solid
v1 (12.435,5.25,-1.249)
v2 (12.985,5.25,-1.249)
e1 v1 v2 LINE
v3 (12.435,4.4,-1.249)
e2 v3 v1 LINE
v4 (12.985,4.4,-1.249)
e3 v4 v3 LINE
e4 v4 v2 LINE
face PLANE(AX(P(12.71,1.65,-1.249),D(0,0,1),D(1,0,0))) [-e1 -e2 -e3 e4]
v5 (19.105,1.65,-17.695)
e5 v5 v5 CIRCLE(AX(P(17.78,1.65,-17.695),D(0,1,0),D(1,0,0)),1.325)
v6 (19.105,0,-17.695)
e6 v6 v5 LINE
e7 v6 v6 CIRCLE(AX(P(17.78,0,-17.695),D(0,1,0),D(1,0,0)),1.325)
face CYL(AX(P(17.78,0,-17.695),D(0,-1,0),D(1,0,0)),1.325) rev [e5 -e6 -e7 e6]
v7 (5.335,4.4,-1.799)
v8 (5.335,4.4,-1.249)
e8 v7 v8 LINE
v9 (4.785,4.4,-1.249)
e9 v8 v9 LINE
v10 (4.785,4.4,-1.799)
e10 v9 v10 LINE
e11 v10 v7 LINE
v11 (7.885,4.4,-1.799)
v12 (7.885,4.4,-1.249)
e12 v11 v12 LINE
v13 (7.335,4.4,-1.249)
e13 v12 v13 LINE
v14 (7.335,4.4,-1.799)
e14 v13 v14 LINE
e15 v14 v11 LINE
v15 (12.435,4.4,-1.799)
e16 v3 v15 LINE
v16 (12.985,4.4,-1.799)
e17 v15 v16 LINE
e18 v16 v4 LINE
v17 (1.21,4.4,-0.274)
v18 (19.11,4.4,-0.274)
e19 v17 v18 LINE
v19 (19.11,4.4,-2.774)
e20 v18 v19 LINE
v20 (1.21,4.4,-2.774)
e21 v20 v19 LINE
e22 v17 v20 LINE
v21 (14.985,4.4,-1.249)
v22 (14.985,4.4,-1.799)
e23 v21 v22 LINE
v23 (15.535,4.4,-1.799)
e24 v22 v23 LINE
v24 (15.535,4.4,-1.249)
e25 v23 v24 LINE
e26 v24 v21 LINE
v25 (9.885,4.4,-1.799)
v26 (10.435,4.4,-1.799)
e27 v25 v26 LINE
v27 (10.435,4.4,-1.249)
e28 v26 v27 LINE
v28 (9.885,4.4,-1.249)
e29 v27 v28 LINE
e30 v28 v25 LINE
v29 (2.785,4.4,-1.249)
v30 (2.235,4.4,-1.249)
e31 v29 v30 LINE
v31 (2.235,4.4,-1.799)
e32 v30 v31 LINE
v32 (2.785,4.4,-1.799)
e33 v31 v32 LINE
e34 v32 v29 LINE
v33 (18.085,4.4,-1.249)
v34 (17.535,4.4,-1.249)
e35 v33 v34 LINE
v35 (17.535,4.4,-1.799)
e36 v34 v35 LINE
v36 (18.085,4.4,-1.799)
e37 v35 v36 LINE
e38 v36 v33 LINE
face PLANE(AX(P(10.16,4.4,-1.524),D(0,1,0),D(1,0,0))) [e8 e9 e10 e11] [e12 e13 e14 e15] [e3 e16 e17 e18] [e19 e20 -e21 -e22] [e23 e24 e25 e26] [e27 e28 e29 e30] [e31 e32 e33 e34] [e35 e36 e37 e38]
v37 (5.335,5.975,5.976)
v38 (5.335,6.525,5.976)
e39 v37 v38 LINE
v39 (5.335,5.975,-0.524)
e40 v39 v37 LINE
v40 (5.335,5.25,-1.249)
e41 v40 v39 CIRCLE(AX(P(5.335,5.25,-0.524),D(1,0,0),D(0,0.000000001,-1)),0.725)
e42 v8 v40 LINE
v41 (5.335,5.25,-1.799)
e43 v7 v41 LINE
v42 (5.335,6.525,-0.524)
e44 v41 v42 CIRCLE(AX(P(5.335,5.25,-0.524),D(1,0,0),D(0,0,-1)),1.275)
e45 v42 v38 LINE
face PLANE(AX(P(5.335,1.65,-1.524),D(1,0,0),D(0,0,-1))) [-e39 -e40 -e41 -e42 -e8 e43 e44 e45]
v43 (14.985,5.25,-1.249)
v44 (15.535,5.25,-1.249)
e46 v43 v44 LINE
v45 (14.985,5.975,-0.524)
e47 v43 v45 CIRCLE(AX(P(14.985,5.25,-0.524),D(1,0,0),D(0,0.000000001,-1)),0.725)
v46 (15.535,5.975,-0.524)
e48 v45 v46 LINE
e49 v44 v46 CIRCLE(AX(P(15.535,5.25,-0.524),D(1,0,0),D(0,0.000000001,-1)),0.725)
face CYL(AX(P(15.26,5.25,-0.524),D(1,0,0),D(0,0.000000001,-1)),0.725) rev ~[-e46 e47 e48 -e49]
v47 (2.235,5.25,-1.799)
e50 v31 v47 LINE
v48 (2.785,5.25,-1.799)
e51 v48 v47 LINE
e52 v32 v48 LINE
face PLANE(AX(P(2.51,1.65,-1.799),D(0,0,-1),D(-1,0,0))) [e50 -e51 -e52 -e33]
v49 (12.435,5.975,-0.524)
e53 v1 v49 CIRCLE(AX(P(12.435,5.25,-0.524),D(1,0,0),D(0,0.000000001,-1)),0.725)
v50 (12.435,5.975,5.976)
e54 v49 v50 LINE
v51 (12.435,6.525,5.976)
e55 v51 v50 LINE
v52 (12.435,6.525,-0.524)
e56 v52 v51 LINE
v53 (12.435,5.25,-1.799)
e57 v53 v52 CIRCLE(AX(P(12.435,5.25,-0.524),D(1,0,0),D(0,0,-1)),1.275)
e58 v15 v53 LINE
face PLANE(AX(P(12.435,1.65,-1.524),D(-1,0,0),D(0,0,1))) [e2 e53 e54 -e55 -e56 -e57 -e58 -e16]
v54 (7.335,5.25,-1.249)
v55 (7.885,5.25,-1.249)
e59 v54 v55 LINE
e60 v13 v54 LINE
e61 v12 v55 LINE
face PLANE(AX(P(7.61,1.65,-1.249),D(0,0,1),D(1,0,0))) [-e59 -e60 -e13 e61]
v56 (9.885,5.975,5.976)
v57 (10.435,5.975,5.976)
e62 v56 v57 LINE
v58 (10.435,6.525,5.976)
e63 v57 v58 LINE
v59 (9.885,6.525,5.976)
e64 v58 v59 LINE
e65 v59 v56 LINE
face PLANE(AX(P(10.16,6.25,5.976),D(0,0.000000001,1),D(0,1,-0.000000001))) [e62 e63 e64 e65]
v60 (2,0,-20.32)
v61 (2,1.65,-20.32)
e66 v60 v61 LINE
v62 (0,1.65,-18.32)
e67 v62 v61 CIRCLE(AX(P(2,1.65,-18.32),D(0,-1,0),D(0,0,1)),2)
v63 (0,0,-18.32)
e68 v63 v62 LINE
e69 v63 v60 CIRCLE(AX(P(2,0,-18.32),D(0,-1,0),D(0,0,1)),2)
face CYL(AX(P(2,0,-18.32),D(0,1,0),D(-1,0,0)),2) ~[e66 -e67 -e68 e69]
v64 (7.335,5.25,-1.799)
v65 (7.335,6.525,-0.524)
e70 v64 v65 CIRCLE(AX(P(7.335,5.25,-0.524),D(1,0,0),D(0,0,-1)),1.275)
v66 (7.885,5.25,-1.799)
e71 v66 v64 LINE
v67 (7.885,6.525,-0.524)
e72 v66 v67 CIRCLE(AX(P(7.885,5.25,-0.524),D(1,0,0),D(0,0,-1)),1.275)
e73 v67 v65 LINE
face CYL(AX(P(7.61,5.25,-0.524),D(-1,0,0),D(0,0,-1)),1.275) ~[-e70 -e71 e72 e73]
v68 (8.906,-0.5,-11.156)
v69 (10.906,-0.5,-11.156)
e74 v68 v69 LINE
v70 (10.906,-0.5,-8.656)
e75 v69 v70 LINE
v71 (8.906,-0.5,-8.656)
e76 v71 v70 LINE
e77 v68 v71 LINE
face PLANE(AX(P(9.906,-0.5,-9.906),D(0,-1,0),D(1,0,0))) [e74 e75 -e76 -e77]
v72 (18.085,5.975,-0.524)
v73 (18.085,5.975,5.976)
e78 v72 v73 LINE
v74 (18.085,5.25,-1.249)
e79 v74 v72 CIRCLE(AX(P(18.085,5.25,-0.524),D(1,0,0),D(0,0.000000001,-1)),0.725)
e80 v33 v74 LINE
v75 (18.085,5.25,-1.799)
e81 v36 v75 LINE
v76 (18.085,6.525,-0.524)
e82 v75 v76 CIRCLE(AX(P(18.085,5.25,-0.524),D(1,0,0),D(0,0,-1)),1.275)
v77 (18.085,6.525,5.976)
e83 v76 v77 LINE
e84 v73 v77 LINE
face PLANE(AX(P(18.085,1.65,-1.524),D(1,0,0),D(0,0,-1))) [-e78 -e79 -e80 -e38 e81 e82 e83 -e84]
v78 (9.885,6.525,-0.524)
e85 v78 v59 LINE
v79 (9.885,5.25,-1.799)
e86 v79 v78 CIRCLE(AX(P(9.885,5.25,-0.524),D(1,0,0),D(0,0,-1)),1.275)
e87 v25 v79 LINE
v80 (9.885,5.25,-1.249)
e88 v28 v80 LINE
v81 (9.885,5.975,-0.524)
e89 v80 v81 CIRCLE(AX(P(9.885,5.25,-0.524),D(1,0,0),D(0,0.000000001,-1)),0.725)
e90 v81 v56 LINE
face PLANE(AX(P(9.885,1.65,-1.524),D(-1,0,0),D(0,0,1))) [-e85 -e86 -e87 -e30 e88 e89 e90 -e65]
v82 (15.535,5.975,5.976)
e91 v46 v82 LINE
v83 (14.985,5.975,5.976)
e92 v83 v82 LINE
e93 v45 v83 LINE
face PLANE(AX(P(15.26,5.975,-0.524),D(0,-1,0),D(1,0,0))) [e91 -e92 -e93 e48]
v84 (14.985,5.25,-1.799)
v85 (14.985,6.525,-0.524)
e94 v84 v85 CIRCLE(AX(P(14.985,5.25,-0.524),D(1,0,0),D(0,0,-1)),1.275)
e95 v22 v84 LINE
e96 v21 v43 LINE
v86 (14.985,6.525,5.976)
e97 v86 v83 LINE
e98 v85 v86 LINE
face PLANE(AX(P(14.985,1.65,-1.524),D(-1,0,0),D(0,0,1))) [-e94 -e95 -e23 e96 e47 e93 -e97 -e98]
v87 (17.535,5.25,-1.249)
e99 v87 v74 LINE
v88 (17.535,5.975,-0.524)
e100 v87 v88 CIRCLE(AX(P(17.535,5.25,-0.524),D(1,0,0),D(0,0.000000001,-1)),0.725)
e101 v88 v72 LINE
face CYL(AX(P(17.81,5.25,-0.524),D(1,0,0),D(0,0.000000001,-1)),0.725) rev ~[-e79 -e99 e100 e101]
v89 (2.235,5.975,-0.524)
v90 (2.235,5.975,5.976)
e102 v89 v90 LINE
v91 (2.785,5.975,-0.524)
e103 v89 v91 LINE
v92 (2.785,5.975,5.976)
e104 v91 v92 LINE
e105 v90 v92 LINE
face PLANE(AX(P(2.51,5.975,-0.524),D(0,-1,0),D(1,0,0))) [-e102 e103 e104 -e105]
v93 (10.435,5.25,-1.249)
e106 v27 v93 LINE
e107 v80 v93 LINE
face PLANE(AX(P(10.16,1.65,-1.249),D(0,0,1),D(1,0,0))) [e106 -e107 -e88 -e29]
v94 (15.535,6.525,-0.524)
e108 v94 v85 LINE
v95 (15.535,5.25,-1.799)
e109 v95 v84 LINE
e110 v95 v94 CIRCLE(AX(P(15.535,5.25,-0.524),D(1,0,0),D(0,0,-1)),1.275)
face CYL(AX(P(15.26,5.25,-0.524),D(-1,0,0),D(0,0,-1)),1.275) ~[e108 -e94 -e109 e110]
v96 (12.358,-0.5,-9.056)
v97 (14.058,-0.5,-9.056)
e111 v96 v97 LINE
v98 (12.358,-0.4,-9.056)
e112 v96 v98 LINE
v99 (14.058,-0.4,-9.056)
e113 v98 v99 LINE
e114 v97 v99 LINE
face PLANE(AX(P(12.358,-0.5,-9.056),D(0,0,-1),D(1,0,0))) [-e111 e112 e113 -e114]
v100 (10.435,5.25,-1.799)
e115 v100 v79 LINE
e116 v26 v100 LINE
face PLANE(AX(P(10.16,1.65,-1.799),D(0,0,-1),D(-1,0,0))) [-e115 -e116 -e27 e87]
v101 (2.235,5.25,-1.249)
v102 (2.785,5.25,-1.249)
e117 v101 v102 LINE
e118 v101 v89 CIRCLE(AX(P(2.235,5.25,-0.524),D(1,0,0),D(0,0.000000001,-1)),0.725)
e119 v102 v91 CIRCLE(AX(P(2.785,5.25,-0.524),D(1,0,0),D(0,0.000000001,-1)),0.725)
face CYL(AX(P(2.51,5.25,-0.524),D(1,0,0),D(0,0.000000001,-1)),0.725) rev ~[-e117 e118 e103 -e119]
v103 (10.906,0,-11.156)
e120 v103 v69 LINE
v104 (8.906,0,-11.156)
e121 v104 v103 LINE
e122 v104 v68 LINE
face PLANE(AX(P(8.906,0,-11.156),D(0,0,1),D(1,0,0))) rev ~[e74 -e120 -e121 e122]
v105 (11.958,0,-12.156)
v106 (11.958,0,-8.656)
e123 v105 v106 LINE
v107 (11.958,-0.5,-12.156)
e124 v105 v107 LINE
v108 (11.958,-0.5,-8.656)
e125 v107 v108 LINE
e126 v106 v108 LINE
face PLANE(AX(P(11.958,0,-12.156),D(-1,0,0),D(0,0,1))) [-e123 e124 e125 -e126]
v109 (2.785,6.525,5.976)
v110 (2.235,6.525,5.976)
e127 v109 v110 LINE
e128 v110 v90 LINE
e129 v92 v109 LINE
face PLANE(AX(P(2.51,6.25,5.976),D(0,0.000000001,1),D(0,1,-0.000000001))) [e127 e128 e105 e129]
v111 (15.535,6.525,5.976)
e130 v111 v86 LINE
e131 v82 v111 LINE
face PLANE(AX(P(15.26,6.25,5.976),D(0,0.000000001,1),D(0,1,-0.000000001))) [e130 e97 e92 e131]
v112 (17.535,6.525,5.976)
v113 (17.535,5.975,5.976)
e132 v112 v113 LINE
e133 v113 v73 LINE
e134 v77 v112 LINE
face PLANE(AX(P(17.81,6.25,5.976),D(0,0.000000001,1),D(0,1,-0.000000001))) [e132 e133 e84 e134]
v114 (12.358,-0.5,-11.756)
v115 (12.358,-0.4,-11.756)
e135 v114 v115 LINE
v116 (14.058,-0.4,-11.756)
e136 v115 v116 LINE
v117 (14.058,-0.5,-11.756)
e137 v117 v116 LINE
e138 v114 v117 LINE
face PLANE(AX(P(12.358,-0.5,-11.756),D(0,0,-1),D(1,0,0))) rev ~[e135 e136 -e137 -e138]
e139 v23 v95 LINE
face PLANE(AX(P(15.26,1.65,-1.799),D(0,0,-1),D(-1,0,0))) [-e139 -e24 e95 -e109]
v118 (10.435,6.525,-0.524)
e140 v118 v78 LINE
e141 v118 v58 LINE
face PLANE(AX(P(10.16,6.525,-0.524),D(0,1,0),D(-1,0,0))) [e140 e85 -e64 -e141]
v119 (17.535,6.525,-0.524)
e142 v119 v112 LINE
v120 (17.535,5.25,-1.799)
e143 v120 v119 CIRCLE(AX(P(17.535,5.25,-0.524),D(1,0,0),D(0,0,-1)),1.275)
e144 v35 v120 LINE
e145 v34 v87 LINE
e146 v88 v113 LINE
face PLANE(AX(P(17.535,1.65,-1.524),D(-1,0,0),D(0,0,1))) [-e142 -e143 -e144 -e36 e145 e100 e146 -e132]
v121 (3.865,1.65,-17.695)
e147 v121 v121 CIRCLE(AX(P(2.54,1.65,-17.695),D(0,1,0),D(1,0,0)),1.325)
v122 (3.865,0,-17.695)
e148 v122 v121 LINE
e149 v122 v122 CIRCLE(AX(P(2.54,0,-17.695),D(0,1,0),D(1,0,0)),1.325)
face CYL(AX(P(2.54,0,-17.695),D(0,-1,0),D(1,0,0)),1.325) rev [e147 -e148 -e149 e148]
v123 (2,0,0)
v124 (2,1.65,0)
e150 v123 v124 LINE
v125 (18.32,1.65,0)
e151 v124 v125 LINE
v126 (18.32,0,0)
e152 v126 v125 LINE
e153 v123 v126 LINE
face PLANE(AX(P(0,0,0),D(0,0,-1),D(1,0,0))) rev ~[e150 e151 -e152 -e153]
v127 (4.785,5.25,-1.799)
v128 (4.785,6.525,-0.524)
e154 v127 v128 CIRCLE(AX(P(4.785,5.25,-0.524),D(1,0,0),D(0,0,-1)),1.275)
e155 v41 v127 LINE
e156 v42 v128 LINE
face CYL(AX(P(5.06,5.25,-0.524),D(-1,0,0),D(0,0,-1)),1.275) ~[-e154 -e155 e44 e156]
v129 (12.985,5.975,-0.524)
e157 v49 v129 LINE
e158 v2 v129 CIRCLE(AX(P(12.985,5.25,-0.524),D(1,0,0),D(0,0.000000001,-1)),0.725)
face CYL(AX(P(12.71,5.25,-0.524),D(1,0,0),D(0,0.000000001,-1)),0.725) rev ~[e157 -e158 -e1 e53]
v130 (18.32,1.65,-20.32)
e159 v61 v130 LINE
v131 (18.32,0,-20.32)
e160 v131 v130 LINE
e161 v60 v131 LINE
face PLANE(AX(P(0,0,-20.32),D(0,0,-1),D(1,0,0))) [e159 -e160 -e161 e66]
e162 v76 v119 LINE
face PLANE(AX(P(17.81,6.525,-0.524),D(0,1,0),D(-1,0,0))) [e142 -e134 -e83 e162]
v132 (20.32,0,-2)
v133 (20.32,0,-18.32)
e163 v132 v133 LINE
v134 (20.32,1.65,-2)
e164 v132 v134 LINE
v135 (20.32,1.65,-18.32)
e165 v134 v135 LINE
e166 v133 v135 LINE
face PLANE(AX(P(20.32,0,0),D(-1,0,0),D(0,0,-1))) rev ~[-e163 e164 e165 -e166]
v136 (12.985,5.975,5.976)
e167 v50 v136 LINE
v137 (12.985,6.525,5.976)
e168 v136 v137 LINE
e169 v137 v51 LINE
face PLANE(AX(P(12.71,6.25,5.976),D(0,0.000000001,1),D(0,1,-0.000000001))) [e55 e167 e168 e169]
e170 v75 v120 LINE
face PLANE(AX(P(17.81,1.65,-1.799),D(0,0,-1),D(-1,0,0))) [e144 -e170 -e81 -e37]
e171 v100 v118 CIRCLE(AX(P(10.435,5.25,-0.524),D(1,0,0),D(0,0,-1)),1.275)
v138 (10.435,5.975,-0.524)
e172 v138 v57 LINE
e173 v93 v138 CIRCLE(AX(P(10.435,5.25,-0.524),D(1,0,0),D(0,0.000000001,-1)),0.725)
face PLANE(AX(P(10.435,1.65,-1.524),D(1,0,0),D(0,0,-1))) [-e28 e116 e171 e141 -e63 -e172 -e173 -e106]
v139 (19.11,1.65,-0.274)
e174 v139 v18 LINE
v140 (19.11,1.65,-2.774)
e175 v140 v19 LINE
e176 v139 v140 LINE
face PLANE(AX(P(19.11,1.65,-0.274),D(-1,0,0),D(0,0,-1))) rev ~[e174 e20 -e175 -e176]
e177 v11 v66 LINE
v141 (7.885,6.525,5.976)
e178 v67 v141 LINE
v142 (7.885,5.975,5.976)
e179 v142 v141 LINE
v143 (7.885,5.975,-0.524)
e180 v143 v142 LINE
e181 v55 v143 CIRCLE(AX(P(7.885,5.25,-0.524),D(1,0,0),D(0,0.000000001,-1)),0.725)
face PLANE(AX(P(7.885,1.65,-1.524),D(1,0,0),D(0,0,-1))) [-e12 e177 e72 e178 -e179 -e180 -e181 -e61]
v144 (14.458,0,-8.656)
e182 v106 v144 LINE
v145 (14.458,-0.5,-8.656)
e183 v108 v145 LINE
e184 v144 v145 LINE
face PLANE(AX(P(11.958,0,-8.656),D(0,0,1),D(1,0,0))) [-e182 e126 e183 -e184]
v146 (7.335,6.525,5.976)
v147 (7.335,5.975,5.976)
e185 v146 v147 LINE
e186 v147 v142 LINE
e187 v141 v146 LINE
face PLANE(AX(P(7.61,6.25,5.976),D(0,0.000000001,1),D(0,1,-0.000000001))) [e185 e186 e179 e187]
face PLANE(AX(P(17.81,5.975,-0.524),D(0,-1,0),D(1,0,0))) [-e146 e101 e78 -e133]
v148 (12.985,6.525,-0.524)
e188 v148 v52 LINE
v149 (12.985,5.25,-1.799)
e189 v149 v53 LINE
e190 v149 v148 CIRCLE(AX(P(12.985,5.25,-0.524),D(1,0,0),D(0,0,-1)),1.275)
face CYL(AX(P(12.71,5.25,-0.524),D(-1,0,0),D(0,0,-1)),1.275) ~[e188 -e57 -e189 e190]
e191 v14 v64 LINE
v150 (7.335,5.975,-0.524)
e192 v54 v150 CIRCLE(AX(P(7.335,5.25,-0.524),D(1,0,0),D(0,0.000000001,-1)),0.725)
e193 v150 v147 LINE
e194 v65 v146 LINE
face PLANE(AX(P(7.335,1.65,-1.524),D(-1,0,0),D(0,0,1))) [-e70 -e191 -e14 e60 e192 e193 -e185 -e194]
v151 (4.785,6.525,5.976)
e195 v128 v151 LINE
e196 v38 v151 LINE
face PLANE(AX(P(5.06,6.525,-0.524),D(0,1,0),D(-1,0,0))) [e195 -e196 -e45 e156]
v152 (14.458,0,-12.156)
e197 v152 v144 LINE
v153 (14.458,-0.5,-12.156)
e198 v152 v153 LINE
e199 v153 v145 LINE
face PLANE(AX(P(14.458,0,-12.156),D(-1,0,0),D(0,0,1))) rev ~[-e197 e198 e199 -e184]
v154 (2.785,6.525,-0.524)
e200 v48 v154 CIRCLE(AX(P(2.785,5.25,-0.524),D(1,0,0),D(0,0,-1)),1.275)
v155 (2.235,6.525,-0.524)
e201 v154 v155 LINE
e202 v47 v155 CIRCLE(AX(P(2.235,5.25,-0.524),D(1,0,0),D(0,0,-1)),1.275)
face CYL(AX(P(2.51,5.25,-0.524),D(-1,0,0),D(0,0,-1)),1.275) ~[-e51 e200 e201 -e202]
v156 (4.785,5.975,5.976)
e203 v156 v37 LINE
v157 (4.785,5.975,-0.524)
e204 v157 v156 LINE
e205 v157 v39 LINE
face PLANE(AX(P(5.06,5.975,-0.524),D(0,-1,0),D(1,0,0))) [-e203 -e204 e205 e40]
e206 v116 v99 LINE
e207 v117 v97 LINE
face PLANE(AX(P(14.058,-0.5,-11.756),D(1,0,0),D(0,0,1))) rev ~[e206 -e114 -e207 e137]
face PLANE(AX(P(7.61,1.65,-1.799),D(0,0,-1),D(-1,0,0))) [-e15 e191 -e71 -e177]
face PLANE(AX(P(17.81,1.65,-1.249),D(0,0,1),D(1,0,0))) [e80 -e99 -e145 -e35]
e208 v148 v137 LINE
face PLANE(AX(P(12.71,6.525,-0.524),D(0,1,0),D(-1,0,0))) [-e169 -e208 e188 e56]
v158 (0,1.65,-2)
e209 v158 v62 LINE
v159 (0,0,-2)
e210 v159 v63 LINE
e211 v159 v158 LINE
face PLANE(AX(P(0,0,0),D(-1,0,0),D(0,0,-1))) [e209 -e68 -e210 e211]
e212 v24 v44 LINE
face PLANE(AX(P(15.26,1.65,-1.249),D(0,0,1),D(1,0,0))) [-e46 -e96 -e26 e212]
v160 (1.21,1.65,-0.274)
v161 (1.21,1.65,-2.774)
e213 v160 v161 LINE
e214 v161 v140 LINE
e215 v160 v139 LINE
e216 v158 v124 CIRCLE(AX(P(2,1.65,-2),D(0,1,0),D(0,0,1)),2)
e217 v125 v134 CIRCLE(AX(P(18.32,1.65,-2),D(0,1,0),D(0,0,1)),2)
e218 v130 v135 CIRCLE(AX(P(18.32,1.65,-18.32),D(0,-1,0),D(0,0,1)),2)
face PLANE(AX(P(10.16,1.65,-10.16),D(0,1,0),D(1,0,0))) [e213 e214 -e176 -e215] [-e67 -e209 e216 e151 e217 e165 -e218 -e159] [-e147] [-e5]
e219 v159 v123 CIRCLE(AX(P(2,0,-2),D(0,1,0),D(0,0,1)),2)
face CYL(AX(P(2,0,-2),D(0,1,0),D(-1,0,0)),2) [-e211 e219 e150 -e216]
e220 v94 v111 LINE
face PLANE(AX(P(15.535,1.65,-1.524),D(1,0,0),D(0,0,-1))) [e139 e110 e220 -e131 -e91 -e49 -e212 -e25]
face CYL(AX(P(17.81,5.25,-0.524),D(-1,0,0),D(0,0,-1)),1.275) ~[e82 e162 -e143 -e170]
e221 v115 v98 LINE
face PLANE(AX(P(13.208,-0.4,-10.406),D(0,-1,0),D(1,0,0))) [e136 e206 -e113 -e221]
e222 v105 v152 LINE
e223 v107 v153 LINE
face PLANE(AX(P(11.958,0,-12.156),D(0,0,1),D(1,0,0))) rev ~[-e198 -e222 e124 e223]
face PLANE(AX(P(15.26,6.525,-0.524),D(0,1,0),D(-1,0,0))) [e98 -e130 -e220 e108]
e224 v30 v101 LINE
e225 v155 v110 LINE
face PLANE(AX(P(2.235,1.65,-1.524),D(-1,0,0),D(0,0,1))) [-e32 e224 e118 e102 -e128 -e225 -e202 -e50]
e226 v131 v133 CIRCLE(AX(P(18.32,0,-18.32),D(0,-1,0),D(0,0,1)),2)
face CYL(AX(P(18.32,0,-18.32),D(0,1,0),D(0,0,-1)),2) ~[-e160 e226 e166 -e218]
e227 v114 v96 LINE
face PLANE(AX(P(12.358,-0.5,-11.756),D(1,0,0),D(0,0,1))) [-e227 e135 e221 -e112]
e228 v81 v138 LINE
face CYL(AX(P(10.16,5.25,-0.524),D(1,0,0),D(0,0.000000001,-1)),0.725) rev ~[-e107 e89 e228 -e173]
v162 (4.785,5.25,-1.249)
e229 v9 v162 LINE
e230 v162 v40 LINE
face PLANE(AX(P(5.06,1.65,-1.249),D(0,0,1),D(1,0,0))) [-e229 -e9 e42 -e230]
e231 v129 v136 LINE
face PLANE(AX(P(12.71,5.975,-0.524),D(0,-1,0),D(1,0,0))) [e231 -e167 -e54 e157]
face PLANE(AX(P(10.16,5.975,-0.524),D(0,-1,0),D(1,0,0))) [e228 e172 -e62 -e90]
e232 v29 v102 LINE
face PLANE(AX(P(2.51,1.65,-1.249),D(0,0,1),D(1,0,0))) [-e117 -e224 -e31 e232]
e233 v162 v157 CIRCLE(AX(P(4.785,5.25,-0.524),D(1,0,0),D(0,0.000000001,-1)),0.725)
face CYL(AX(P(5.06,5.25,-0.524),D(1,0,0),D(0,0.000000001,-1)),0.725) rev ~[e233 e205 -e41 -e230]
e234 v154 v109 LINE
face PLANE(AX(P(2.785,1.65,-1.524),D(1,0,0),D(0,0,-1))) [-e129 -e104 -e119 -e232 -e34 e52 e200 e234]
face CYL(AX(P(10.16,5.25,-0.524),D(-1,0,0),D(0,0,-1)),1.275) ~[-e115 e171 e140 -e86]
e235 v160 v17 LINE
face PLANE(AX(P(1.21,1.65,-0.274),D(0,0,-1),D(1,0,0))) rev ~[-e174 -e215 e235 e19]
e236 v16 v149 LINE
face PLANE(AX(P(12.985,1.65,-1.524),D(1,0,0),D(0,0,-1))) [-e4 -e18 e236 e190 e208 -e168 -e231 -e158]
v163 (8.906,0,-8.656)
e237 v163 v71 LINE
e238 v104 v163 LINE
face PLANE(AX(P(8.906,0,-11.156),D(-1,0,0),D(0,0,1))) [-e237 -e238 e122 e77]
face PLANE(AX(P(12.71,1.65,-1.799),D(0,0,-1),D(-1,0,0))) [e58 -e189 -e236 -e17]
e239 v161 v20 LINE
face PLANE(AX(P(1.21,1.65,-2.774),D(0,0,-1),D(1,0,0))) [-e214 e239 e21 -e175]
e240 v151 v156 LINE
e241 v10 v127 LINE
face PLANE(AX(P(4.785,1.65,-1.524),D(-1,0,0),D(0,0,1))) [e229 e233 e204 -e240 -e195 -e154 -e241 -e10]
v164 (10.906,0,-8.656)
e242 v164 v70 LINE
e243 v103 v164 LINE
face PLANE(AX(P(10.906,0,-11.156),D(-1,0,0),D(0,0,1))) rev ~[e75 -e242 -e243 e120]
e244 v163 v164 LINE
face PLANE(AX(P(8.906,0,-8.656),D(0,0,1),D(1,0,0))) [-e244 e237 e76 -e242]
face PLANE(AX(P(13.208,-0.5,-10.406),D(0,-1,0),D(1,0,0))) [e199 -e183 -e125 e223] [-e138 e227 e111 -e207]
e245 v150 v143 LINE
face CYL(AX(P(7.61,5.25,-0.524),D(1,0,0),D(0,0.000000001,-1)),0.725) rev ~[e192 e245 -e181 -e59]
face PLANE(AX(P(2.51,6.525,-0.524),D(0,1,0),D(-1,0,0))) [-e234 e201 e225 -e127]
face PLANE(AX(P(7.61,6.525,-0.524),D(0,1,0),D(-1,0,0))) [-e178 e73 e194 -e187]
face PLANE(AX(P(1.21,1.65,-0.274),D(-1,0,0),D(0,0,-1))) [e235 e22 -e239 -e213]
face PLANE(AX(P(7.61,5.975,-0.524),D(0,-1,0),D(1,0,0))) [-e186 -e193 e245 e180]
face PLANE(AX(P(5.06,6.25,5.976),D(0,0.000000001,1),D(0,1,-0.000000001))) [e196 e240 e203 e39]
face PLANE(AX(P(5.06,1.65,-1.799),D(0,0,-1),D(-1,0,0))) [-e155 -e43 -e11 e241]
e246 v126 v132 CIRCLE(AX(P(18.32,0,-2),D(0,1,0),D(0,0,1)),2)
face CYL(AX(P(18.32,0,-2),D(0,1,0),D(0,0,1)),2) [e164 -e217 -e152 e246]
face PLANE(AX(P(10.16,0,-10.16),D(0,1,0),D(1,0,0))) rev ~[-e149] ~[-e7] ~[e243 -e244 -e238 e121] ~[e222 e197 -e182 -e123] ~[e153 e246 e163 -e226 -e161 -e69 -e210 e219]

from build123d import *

# Parameters (mm, degrees)
SKETCH2_W           = 20.32
SKETCH2_H           = 20.32
SKETCH2_R           = 1.325
BOSS_EXTRUDE1_DEPTH = 1.65
SKETCH3_W           = 0.55
SKETCH3_H           = 0.55
LPATTERN1_COUNT     = 4
LPATTERN1_PITCH     = 2.55
LPATTERN1_COL_COUNT = 4
LPATTERN1_COL_PITCH = 2.55
SKETCH5_W           = 17.9
SKETCH5_H           = 2.5
BOSS_EXTRUDE2_DEPTH = 2.75
SKETCH6_W           = 2
SKETCH6_H           = 2.5
SKETCH6_W_2         = 2.5
SKETCH6_H_2         = 3.5
BOSS_EXTRUDE3_DEPTH = 0.5
FILLET1_R           = 2
SKETCH7_W           = 1.7
SKETCH7_H           = 2.7
CUT_EXTRUDE1_DEPTH  = 0.1


with BuildPart() as part:
    # Sketch2 → Boss-Extrude1 (new body)
    with BuildSketch(Plane(origin=(0, 0, 0), x_dir=(1, 0, 0), z_dir=(0, 1, 0))):
        with Locations((10.16, 10.16)):
            Rectangle(SKETCH2_W, SKETCH2_H)
        with Locations((2.54, 17.695)):
            Circle(SKETCH2_R, mode=Mode.SUBTRACT)
        with Locations((17.78, 17.695)):
            Circle(SKETCH2_R, mode=Mode.SUBTRACT)
    extrude(amount=BOSS_EXTRUDE1_DEPTH)

    # Sweep1: sweep along a path in Sketch4
    with BuildLine(Plane(origin=(0, 0, 0), x_dir=(0, 0, -1), z_dir=(1, 0, 0))) as sweep1_path:
        Line((1.524, 1.65), (1.524, 5.25))
        ThreePointArc((1.524, 5.25), (1.231106781, 5.957106781), (0.524, 6.25))
        Line((0.524, 6.25), (-5.976, 6.25))
    # Sketch3 → Sweep1 (sweep)
    with BuildSketch(Plane(origin=(0, 1.65, 0), x_dir=(1, 0, 0), z_dir=(0, 1, 0))):
        with Locations((10.16, 1.524)):
            Rectangle(SKETCH3_W, SKETCH3_H)
    sweep1 = sweep(path=sweep1_path.line)

    # LPattern1: Sweep1 ×4
    with Locations(*[(-i * LPATTERN1_PITCH, 0, 0) for i in range(1, LPATTERN1_COUNT)]):
        add(sweep1)

    # LPattern1 col: Sweep1 ×4
    with Locations(*[(i * LPATTERN1_COL_PITCH, 0, 0) for i in range(1, LPATTERN1_COL_COUNT)]):
        add(sweep1)

    # Sketch5 → Boss-Extrude2 (add)
    with BuildSketch(Plane(origin=(0, 1.65, 0), x_dir=(1, 0, 0), z_dir=(0, 1, 0))):
        with Locations((10.16, 1.524)):
            Rectangle(SKETCH5_W, SKETCH5_H)
    extrude(amount=BOSS_EXTRUDE2_DEPTH)

    # Sketch6 → Boss-Extrude3 (add)
    with BuildSketch(Plane.XZ):
        with Locations((9.906, -9.906)):
            Rectangle(SKETCH6_W, SKETCH6_H)
        with Locations((13.208, -10.406)):
            Rectangle(SKETCH6_W_2, SKETCH6_H_2)
    extrude(amount=BOSS_EXTRUDE3_DEPTH)

    # Fillet1
    fillet1_edges = [part.edges().sort_by_distance(p)[0] for p in [
        (0, 0.825, -20.32),
        (20.32, 0.825, -20.32),
        (20.32, 0.825, 0),
        (0, 0.825, 0),
    ]]
    fillet(fillet1_edges, radius=FILLET1_R)

    # Sketch7 → Cut-Extrude1 (cut)
    with BuildSketch(Plane.XZ.offset(0.5)):
        with Locations((13.208, -10.406)):
            Rectangle(SKETCH7_W, SKETCH7_H)
    extrude(amount=-CUT_EXTRUDE1_DEPTH, mode=Mode.SUBTRACT)


solid = part.part
